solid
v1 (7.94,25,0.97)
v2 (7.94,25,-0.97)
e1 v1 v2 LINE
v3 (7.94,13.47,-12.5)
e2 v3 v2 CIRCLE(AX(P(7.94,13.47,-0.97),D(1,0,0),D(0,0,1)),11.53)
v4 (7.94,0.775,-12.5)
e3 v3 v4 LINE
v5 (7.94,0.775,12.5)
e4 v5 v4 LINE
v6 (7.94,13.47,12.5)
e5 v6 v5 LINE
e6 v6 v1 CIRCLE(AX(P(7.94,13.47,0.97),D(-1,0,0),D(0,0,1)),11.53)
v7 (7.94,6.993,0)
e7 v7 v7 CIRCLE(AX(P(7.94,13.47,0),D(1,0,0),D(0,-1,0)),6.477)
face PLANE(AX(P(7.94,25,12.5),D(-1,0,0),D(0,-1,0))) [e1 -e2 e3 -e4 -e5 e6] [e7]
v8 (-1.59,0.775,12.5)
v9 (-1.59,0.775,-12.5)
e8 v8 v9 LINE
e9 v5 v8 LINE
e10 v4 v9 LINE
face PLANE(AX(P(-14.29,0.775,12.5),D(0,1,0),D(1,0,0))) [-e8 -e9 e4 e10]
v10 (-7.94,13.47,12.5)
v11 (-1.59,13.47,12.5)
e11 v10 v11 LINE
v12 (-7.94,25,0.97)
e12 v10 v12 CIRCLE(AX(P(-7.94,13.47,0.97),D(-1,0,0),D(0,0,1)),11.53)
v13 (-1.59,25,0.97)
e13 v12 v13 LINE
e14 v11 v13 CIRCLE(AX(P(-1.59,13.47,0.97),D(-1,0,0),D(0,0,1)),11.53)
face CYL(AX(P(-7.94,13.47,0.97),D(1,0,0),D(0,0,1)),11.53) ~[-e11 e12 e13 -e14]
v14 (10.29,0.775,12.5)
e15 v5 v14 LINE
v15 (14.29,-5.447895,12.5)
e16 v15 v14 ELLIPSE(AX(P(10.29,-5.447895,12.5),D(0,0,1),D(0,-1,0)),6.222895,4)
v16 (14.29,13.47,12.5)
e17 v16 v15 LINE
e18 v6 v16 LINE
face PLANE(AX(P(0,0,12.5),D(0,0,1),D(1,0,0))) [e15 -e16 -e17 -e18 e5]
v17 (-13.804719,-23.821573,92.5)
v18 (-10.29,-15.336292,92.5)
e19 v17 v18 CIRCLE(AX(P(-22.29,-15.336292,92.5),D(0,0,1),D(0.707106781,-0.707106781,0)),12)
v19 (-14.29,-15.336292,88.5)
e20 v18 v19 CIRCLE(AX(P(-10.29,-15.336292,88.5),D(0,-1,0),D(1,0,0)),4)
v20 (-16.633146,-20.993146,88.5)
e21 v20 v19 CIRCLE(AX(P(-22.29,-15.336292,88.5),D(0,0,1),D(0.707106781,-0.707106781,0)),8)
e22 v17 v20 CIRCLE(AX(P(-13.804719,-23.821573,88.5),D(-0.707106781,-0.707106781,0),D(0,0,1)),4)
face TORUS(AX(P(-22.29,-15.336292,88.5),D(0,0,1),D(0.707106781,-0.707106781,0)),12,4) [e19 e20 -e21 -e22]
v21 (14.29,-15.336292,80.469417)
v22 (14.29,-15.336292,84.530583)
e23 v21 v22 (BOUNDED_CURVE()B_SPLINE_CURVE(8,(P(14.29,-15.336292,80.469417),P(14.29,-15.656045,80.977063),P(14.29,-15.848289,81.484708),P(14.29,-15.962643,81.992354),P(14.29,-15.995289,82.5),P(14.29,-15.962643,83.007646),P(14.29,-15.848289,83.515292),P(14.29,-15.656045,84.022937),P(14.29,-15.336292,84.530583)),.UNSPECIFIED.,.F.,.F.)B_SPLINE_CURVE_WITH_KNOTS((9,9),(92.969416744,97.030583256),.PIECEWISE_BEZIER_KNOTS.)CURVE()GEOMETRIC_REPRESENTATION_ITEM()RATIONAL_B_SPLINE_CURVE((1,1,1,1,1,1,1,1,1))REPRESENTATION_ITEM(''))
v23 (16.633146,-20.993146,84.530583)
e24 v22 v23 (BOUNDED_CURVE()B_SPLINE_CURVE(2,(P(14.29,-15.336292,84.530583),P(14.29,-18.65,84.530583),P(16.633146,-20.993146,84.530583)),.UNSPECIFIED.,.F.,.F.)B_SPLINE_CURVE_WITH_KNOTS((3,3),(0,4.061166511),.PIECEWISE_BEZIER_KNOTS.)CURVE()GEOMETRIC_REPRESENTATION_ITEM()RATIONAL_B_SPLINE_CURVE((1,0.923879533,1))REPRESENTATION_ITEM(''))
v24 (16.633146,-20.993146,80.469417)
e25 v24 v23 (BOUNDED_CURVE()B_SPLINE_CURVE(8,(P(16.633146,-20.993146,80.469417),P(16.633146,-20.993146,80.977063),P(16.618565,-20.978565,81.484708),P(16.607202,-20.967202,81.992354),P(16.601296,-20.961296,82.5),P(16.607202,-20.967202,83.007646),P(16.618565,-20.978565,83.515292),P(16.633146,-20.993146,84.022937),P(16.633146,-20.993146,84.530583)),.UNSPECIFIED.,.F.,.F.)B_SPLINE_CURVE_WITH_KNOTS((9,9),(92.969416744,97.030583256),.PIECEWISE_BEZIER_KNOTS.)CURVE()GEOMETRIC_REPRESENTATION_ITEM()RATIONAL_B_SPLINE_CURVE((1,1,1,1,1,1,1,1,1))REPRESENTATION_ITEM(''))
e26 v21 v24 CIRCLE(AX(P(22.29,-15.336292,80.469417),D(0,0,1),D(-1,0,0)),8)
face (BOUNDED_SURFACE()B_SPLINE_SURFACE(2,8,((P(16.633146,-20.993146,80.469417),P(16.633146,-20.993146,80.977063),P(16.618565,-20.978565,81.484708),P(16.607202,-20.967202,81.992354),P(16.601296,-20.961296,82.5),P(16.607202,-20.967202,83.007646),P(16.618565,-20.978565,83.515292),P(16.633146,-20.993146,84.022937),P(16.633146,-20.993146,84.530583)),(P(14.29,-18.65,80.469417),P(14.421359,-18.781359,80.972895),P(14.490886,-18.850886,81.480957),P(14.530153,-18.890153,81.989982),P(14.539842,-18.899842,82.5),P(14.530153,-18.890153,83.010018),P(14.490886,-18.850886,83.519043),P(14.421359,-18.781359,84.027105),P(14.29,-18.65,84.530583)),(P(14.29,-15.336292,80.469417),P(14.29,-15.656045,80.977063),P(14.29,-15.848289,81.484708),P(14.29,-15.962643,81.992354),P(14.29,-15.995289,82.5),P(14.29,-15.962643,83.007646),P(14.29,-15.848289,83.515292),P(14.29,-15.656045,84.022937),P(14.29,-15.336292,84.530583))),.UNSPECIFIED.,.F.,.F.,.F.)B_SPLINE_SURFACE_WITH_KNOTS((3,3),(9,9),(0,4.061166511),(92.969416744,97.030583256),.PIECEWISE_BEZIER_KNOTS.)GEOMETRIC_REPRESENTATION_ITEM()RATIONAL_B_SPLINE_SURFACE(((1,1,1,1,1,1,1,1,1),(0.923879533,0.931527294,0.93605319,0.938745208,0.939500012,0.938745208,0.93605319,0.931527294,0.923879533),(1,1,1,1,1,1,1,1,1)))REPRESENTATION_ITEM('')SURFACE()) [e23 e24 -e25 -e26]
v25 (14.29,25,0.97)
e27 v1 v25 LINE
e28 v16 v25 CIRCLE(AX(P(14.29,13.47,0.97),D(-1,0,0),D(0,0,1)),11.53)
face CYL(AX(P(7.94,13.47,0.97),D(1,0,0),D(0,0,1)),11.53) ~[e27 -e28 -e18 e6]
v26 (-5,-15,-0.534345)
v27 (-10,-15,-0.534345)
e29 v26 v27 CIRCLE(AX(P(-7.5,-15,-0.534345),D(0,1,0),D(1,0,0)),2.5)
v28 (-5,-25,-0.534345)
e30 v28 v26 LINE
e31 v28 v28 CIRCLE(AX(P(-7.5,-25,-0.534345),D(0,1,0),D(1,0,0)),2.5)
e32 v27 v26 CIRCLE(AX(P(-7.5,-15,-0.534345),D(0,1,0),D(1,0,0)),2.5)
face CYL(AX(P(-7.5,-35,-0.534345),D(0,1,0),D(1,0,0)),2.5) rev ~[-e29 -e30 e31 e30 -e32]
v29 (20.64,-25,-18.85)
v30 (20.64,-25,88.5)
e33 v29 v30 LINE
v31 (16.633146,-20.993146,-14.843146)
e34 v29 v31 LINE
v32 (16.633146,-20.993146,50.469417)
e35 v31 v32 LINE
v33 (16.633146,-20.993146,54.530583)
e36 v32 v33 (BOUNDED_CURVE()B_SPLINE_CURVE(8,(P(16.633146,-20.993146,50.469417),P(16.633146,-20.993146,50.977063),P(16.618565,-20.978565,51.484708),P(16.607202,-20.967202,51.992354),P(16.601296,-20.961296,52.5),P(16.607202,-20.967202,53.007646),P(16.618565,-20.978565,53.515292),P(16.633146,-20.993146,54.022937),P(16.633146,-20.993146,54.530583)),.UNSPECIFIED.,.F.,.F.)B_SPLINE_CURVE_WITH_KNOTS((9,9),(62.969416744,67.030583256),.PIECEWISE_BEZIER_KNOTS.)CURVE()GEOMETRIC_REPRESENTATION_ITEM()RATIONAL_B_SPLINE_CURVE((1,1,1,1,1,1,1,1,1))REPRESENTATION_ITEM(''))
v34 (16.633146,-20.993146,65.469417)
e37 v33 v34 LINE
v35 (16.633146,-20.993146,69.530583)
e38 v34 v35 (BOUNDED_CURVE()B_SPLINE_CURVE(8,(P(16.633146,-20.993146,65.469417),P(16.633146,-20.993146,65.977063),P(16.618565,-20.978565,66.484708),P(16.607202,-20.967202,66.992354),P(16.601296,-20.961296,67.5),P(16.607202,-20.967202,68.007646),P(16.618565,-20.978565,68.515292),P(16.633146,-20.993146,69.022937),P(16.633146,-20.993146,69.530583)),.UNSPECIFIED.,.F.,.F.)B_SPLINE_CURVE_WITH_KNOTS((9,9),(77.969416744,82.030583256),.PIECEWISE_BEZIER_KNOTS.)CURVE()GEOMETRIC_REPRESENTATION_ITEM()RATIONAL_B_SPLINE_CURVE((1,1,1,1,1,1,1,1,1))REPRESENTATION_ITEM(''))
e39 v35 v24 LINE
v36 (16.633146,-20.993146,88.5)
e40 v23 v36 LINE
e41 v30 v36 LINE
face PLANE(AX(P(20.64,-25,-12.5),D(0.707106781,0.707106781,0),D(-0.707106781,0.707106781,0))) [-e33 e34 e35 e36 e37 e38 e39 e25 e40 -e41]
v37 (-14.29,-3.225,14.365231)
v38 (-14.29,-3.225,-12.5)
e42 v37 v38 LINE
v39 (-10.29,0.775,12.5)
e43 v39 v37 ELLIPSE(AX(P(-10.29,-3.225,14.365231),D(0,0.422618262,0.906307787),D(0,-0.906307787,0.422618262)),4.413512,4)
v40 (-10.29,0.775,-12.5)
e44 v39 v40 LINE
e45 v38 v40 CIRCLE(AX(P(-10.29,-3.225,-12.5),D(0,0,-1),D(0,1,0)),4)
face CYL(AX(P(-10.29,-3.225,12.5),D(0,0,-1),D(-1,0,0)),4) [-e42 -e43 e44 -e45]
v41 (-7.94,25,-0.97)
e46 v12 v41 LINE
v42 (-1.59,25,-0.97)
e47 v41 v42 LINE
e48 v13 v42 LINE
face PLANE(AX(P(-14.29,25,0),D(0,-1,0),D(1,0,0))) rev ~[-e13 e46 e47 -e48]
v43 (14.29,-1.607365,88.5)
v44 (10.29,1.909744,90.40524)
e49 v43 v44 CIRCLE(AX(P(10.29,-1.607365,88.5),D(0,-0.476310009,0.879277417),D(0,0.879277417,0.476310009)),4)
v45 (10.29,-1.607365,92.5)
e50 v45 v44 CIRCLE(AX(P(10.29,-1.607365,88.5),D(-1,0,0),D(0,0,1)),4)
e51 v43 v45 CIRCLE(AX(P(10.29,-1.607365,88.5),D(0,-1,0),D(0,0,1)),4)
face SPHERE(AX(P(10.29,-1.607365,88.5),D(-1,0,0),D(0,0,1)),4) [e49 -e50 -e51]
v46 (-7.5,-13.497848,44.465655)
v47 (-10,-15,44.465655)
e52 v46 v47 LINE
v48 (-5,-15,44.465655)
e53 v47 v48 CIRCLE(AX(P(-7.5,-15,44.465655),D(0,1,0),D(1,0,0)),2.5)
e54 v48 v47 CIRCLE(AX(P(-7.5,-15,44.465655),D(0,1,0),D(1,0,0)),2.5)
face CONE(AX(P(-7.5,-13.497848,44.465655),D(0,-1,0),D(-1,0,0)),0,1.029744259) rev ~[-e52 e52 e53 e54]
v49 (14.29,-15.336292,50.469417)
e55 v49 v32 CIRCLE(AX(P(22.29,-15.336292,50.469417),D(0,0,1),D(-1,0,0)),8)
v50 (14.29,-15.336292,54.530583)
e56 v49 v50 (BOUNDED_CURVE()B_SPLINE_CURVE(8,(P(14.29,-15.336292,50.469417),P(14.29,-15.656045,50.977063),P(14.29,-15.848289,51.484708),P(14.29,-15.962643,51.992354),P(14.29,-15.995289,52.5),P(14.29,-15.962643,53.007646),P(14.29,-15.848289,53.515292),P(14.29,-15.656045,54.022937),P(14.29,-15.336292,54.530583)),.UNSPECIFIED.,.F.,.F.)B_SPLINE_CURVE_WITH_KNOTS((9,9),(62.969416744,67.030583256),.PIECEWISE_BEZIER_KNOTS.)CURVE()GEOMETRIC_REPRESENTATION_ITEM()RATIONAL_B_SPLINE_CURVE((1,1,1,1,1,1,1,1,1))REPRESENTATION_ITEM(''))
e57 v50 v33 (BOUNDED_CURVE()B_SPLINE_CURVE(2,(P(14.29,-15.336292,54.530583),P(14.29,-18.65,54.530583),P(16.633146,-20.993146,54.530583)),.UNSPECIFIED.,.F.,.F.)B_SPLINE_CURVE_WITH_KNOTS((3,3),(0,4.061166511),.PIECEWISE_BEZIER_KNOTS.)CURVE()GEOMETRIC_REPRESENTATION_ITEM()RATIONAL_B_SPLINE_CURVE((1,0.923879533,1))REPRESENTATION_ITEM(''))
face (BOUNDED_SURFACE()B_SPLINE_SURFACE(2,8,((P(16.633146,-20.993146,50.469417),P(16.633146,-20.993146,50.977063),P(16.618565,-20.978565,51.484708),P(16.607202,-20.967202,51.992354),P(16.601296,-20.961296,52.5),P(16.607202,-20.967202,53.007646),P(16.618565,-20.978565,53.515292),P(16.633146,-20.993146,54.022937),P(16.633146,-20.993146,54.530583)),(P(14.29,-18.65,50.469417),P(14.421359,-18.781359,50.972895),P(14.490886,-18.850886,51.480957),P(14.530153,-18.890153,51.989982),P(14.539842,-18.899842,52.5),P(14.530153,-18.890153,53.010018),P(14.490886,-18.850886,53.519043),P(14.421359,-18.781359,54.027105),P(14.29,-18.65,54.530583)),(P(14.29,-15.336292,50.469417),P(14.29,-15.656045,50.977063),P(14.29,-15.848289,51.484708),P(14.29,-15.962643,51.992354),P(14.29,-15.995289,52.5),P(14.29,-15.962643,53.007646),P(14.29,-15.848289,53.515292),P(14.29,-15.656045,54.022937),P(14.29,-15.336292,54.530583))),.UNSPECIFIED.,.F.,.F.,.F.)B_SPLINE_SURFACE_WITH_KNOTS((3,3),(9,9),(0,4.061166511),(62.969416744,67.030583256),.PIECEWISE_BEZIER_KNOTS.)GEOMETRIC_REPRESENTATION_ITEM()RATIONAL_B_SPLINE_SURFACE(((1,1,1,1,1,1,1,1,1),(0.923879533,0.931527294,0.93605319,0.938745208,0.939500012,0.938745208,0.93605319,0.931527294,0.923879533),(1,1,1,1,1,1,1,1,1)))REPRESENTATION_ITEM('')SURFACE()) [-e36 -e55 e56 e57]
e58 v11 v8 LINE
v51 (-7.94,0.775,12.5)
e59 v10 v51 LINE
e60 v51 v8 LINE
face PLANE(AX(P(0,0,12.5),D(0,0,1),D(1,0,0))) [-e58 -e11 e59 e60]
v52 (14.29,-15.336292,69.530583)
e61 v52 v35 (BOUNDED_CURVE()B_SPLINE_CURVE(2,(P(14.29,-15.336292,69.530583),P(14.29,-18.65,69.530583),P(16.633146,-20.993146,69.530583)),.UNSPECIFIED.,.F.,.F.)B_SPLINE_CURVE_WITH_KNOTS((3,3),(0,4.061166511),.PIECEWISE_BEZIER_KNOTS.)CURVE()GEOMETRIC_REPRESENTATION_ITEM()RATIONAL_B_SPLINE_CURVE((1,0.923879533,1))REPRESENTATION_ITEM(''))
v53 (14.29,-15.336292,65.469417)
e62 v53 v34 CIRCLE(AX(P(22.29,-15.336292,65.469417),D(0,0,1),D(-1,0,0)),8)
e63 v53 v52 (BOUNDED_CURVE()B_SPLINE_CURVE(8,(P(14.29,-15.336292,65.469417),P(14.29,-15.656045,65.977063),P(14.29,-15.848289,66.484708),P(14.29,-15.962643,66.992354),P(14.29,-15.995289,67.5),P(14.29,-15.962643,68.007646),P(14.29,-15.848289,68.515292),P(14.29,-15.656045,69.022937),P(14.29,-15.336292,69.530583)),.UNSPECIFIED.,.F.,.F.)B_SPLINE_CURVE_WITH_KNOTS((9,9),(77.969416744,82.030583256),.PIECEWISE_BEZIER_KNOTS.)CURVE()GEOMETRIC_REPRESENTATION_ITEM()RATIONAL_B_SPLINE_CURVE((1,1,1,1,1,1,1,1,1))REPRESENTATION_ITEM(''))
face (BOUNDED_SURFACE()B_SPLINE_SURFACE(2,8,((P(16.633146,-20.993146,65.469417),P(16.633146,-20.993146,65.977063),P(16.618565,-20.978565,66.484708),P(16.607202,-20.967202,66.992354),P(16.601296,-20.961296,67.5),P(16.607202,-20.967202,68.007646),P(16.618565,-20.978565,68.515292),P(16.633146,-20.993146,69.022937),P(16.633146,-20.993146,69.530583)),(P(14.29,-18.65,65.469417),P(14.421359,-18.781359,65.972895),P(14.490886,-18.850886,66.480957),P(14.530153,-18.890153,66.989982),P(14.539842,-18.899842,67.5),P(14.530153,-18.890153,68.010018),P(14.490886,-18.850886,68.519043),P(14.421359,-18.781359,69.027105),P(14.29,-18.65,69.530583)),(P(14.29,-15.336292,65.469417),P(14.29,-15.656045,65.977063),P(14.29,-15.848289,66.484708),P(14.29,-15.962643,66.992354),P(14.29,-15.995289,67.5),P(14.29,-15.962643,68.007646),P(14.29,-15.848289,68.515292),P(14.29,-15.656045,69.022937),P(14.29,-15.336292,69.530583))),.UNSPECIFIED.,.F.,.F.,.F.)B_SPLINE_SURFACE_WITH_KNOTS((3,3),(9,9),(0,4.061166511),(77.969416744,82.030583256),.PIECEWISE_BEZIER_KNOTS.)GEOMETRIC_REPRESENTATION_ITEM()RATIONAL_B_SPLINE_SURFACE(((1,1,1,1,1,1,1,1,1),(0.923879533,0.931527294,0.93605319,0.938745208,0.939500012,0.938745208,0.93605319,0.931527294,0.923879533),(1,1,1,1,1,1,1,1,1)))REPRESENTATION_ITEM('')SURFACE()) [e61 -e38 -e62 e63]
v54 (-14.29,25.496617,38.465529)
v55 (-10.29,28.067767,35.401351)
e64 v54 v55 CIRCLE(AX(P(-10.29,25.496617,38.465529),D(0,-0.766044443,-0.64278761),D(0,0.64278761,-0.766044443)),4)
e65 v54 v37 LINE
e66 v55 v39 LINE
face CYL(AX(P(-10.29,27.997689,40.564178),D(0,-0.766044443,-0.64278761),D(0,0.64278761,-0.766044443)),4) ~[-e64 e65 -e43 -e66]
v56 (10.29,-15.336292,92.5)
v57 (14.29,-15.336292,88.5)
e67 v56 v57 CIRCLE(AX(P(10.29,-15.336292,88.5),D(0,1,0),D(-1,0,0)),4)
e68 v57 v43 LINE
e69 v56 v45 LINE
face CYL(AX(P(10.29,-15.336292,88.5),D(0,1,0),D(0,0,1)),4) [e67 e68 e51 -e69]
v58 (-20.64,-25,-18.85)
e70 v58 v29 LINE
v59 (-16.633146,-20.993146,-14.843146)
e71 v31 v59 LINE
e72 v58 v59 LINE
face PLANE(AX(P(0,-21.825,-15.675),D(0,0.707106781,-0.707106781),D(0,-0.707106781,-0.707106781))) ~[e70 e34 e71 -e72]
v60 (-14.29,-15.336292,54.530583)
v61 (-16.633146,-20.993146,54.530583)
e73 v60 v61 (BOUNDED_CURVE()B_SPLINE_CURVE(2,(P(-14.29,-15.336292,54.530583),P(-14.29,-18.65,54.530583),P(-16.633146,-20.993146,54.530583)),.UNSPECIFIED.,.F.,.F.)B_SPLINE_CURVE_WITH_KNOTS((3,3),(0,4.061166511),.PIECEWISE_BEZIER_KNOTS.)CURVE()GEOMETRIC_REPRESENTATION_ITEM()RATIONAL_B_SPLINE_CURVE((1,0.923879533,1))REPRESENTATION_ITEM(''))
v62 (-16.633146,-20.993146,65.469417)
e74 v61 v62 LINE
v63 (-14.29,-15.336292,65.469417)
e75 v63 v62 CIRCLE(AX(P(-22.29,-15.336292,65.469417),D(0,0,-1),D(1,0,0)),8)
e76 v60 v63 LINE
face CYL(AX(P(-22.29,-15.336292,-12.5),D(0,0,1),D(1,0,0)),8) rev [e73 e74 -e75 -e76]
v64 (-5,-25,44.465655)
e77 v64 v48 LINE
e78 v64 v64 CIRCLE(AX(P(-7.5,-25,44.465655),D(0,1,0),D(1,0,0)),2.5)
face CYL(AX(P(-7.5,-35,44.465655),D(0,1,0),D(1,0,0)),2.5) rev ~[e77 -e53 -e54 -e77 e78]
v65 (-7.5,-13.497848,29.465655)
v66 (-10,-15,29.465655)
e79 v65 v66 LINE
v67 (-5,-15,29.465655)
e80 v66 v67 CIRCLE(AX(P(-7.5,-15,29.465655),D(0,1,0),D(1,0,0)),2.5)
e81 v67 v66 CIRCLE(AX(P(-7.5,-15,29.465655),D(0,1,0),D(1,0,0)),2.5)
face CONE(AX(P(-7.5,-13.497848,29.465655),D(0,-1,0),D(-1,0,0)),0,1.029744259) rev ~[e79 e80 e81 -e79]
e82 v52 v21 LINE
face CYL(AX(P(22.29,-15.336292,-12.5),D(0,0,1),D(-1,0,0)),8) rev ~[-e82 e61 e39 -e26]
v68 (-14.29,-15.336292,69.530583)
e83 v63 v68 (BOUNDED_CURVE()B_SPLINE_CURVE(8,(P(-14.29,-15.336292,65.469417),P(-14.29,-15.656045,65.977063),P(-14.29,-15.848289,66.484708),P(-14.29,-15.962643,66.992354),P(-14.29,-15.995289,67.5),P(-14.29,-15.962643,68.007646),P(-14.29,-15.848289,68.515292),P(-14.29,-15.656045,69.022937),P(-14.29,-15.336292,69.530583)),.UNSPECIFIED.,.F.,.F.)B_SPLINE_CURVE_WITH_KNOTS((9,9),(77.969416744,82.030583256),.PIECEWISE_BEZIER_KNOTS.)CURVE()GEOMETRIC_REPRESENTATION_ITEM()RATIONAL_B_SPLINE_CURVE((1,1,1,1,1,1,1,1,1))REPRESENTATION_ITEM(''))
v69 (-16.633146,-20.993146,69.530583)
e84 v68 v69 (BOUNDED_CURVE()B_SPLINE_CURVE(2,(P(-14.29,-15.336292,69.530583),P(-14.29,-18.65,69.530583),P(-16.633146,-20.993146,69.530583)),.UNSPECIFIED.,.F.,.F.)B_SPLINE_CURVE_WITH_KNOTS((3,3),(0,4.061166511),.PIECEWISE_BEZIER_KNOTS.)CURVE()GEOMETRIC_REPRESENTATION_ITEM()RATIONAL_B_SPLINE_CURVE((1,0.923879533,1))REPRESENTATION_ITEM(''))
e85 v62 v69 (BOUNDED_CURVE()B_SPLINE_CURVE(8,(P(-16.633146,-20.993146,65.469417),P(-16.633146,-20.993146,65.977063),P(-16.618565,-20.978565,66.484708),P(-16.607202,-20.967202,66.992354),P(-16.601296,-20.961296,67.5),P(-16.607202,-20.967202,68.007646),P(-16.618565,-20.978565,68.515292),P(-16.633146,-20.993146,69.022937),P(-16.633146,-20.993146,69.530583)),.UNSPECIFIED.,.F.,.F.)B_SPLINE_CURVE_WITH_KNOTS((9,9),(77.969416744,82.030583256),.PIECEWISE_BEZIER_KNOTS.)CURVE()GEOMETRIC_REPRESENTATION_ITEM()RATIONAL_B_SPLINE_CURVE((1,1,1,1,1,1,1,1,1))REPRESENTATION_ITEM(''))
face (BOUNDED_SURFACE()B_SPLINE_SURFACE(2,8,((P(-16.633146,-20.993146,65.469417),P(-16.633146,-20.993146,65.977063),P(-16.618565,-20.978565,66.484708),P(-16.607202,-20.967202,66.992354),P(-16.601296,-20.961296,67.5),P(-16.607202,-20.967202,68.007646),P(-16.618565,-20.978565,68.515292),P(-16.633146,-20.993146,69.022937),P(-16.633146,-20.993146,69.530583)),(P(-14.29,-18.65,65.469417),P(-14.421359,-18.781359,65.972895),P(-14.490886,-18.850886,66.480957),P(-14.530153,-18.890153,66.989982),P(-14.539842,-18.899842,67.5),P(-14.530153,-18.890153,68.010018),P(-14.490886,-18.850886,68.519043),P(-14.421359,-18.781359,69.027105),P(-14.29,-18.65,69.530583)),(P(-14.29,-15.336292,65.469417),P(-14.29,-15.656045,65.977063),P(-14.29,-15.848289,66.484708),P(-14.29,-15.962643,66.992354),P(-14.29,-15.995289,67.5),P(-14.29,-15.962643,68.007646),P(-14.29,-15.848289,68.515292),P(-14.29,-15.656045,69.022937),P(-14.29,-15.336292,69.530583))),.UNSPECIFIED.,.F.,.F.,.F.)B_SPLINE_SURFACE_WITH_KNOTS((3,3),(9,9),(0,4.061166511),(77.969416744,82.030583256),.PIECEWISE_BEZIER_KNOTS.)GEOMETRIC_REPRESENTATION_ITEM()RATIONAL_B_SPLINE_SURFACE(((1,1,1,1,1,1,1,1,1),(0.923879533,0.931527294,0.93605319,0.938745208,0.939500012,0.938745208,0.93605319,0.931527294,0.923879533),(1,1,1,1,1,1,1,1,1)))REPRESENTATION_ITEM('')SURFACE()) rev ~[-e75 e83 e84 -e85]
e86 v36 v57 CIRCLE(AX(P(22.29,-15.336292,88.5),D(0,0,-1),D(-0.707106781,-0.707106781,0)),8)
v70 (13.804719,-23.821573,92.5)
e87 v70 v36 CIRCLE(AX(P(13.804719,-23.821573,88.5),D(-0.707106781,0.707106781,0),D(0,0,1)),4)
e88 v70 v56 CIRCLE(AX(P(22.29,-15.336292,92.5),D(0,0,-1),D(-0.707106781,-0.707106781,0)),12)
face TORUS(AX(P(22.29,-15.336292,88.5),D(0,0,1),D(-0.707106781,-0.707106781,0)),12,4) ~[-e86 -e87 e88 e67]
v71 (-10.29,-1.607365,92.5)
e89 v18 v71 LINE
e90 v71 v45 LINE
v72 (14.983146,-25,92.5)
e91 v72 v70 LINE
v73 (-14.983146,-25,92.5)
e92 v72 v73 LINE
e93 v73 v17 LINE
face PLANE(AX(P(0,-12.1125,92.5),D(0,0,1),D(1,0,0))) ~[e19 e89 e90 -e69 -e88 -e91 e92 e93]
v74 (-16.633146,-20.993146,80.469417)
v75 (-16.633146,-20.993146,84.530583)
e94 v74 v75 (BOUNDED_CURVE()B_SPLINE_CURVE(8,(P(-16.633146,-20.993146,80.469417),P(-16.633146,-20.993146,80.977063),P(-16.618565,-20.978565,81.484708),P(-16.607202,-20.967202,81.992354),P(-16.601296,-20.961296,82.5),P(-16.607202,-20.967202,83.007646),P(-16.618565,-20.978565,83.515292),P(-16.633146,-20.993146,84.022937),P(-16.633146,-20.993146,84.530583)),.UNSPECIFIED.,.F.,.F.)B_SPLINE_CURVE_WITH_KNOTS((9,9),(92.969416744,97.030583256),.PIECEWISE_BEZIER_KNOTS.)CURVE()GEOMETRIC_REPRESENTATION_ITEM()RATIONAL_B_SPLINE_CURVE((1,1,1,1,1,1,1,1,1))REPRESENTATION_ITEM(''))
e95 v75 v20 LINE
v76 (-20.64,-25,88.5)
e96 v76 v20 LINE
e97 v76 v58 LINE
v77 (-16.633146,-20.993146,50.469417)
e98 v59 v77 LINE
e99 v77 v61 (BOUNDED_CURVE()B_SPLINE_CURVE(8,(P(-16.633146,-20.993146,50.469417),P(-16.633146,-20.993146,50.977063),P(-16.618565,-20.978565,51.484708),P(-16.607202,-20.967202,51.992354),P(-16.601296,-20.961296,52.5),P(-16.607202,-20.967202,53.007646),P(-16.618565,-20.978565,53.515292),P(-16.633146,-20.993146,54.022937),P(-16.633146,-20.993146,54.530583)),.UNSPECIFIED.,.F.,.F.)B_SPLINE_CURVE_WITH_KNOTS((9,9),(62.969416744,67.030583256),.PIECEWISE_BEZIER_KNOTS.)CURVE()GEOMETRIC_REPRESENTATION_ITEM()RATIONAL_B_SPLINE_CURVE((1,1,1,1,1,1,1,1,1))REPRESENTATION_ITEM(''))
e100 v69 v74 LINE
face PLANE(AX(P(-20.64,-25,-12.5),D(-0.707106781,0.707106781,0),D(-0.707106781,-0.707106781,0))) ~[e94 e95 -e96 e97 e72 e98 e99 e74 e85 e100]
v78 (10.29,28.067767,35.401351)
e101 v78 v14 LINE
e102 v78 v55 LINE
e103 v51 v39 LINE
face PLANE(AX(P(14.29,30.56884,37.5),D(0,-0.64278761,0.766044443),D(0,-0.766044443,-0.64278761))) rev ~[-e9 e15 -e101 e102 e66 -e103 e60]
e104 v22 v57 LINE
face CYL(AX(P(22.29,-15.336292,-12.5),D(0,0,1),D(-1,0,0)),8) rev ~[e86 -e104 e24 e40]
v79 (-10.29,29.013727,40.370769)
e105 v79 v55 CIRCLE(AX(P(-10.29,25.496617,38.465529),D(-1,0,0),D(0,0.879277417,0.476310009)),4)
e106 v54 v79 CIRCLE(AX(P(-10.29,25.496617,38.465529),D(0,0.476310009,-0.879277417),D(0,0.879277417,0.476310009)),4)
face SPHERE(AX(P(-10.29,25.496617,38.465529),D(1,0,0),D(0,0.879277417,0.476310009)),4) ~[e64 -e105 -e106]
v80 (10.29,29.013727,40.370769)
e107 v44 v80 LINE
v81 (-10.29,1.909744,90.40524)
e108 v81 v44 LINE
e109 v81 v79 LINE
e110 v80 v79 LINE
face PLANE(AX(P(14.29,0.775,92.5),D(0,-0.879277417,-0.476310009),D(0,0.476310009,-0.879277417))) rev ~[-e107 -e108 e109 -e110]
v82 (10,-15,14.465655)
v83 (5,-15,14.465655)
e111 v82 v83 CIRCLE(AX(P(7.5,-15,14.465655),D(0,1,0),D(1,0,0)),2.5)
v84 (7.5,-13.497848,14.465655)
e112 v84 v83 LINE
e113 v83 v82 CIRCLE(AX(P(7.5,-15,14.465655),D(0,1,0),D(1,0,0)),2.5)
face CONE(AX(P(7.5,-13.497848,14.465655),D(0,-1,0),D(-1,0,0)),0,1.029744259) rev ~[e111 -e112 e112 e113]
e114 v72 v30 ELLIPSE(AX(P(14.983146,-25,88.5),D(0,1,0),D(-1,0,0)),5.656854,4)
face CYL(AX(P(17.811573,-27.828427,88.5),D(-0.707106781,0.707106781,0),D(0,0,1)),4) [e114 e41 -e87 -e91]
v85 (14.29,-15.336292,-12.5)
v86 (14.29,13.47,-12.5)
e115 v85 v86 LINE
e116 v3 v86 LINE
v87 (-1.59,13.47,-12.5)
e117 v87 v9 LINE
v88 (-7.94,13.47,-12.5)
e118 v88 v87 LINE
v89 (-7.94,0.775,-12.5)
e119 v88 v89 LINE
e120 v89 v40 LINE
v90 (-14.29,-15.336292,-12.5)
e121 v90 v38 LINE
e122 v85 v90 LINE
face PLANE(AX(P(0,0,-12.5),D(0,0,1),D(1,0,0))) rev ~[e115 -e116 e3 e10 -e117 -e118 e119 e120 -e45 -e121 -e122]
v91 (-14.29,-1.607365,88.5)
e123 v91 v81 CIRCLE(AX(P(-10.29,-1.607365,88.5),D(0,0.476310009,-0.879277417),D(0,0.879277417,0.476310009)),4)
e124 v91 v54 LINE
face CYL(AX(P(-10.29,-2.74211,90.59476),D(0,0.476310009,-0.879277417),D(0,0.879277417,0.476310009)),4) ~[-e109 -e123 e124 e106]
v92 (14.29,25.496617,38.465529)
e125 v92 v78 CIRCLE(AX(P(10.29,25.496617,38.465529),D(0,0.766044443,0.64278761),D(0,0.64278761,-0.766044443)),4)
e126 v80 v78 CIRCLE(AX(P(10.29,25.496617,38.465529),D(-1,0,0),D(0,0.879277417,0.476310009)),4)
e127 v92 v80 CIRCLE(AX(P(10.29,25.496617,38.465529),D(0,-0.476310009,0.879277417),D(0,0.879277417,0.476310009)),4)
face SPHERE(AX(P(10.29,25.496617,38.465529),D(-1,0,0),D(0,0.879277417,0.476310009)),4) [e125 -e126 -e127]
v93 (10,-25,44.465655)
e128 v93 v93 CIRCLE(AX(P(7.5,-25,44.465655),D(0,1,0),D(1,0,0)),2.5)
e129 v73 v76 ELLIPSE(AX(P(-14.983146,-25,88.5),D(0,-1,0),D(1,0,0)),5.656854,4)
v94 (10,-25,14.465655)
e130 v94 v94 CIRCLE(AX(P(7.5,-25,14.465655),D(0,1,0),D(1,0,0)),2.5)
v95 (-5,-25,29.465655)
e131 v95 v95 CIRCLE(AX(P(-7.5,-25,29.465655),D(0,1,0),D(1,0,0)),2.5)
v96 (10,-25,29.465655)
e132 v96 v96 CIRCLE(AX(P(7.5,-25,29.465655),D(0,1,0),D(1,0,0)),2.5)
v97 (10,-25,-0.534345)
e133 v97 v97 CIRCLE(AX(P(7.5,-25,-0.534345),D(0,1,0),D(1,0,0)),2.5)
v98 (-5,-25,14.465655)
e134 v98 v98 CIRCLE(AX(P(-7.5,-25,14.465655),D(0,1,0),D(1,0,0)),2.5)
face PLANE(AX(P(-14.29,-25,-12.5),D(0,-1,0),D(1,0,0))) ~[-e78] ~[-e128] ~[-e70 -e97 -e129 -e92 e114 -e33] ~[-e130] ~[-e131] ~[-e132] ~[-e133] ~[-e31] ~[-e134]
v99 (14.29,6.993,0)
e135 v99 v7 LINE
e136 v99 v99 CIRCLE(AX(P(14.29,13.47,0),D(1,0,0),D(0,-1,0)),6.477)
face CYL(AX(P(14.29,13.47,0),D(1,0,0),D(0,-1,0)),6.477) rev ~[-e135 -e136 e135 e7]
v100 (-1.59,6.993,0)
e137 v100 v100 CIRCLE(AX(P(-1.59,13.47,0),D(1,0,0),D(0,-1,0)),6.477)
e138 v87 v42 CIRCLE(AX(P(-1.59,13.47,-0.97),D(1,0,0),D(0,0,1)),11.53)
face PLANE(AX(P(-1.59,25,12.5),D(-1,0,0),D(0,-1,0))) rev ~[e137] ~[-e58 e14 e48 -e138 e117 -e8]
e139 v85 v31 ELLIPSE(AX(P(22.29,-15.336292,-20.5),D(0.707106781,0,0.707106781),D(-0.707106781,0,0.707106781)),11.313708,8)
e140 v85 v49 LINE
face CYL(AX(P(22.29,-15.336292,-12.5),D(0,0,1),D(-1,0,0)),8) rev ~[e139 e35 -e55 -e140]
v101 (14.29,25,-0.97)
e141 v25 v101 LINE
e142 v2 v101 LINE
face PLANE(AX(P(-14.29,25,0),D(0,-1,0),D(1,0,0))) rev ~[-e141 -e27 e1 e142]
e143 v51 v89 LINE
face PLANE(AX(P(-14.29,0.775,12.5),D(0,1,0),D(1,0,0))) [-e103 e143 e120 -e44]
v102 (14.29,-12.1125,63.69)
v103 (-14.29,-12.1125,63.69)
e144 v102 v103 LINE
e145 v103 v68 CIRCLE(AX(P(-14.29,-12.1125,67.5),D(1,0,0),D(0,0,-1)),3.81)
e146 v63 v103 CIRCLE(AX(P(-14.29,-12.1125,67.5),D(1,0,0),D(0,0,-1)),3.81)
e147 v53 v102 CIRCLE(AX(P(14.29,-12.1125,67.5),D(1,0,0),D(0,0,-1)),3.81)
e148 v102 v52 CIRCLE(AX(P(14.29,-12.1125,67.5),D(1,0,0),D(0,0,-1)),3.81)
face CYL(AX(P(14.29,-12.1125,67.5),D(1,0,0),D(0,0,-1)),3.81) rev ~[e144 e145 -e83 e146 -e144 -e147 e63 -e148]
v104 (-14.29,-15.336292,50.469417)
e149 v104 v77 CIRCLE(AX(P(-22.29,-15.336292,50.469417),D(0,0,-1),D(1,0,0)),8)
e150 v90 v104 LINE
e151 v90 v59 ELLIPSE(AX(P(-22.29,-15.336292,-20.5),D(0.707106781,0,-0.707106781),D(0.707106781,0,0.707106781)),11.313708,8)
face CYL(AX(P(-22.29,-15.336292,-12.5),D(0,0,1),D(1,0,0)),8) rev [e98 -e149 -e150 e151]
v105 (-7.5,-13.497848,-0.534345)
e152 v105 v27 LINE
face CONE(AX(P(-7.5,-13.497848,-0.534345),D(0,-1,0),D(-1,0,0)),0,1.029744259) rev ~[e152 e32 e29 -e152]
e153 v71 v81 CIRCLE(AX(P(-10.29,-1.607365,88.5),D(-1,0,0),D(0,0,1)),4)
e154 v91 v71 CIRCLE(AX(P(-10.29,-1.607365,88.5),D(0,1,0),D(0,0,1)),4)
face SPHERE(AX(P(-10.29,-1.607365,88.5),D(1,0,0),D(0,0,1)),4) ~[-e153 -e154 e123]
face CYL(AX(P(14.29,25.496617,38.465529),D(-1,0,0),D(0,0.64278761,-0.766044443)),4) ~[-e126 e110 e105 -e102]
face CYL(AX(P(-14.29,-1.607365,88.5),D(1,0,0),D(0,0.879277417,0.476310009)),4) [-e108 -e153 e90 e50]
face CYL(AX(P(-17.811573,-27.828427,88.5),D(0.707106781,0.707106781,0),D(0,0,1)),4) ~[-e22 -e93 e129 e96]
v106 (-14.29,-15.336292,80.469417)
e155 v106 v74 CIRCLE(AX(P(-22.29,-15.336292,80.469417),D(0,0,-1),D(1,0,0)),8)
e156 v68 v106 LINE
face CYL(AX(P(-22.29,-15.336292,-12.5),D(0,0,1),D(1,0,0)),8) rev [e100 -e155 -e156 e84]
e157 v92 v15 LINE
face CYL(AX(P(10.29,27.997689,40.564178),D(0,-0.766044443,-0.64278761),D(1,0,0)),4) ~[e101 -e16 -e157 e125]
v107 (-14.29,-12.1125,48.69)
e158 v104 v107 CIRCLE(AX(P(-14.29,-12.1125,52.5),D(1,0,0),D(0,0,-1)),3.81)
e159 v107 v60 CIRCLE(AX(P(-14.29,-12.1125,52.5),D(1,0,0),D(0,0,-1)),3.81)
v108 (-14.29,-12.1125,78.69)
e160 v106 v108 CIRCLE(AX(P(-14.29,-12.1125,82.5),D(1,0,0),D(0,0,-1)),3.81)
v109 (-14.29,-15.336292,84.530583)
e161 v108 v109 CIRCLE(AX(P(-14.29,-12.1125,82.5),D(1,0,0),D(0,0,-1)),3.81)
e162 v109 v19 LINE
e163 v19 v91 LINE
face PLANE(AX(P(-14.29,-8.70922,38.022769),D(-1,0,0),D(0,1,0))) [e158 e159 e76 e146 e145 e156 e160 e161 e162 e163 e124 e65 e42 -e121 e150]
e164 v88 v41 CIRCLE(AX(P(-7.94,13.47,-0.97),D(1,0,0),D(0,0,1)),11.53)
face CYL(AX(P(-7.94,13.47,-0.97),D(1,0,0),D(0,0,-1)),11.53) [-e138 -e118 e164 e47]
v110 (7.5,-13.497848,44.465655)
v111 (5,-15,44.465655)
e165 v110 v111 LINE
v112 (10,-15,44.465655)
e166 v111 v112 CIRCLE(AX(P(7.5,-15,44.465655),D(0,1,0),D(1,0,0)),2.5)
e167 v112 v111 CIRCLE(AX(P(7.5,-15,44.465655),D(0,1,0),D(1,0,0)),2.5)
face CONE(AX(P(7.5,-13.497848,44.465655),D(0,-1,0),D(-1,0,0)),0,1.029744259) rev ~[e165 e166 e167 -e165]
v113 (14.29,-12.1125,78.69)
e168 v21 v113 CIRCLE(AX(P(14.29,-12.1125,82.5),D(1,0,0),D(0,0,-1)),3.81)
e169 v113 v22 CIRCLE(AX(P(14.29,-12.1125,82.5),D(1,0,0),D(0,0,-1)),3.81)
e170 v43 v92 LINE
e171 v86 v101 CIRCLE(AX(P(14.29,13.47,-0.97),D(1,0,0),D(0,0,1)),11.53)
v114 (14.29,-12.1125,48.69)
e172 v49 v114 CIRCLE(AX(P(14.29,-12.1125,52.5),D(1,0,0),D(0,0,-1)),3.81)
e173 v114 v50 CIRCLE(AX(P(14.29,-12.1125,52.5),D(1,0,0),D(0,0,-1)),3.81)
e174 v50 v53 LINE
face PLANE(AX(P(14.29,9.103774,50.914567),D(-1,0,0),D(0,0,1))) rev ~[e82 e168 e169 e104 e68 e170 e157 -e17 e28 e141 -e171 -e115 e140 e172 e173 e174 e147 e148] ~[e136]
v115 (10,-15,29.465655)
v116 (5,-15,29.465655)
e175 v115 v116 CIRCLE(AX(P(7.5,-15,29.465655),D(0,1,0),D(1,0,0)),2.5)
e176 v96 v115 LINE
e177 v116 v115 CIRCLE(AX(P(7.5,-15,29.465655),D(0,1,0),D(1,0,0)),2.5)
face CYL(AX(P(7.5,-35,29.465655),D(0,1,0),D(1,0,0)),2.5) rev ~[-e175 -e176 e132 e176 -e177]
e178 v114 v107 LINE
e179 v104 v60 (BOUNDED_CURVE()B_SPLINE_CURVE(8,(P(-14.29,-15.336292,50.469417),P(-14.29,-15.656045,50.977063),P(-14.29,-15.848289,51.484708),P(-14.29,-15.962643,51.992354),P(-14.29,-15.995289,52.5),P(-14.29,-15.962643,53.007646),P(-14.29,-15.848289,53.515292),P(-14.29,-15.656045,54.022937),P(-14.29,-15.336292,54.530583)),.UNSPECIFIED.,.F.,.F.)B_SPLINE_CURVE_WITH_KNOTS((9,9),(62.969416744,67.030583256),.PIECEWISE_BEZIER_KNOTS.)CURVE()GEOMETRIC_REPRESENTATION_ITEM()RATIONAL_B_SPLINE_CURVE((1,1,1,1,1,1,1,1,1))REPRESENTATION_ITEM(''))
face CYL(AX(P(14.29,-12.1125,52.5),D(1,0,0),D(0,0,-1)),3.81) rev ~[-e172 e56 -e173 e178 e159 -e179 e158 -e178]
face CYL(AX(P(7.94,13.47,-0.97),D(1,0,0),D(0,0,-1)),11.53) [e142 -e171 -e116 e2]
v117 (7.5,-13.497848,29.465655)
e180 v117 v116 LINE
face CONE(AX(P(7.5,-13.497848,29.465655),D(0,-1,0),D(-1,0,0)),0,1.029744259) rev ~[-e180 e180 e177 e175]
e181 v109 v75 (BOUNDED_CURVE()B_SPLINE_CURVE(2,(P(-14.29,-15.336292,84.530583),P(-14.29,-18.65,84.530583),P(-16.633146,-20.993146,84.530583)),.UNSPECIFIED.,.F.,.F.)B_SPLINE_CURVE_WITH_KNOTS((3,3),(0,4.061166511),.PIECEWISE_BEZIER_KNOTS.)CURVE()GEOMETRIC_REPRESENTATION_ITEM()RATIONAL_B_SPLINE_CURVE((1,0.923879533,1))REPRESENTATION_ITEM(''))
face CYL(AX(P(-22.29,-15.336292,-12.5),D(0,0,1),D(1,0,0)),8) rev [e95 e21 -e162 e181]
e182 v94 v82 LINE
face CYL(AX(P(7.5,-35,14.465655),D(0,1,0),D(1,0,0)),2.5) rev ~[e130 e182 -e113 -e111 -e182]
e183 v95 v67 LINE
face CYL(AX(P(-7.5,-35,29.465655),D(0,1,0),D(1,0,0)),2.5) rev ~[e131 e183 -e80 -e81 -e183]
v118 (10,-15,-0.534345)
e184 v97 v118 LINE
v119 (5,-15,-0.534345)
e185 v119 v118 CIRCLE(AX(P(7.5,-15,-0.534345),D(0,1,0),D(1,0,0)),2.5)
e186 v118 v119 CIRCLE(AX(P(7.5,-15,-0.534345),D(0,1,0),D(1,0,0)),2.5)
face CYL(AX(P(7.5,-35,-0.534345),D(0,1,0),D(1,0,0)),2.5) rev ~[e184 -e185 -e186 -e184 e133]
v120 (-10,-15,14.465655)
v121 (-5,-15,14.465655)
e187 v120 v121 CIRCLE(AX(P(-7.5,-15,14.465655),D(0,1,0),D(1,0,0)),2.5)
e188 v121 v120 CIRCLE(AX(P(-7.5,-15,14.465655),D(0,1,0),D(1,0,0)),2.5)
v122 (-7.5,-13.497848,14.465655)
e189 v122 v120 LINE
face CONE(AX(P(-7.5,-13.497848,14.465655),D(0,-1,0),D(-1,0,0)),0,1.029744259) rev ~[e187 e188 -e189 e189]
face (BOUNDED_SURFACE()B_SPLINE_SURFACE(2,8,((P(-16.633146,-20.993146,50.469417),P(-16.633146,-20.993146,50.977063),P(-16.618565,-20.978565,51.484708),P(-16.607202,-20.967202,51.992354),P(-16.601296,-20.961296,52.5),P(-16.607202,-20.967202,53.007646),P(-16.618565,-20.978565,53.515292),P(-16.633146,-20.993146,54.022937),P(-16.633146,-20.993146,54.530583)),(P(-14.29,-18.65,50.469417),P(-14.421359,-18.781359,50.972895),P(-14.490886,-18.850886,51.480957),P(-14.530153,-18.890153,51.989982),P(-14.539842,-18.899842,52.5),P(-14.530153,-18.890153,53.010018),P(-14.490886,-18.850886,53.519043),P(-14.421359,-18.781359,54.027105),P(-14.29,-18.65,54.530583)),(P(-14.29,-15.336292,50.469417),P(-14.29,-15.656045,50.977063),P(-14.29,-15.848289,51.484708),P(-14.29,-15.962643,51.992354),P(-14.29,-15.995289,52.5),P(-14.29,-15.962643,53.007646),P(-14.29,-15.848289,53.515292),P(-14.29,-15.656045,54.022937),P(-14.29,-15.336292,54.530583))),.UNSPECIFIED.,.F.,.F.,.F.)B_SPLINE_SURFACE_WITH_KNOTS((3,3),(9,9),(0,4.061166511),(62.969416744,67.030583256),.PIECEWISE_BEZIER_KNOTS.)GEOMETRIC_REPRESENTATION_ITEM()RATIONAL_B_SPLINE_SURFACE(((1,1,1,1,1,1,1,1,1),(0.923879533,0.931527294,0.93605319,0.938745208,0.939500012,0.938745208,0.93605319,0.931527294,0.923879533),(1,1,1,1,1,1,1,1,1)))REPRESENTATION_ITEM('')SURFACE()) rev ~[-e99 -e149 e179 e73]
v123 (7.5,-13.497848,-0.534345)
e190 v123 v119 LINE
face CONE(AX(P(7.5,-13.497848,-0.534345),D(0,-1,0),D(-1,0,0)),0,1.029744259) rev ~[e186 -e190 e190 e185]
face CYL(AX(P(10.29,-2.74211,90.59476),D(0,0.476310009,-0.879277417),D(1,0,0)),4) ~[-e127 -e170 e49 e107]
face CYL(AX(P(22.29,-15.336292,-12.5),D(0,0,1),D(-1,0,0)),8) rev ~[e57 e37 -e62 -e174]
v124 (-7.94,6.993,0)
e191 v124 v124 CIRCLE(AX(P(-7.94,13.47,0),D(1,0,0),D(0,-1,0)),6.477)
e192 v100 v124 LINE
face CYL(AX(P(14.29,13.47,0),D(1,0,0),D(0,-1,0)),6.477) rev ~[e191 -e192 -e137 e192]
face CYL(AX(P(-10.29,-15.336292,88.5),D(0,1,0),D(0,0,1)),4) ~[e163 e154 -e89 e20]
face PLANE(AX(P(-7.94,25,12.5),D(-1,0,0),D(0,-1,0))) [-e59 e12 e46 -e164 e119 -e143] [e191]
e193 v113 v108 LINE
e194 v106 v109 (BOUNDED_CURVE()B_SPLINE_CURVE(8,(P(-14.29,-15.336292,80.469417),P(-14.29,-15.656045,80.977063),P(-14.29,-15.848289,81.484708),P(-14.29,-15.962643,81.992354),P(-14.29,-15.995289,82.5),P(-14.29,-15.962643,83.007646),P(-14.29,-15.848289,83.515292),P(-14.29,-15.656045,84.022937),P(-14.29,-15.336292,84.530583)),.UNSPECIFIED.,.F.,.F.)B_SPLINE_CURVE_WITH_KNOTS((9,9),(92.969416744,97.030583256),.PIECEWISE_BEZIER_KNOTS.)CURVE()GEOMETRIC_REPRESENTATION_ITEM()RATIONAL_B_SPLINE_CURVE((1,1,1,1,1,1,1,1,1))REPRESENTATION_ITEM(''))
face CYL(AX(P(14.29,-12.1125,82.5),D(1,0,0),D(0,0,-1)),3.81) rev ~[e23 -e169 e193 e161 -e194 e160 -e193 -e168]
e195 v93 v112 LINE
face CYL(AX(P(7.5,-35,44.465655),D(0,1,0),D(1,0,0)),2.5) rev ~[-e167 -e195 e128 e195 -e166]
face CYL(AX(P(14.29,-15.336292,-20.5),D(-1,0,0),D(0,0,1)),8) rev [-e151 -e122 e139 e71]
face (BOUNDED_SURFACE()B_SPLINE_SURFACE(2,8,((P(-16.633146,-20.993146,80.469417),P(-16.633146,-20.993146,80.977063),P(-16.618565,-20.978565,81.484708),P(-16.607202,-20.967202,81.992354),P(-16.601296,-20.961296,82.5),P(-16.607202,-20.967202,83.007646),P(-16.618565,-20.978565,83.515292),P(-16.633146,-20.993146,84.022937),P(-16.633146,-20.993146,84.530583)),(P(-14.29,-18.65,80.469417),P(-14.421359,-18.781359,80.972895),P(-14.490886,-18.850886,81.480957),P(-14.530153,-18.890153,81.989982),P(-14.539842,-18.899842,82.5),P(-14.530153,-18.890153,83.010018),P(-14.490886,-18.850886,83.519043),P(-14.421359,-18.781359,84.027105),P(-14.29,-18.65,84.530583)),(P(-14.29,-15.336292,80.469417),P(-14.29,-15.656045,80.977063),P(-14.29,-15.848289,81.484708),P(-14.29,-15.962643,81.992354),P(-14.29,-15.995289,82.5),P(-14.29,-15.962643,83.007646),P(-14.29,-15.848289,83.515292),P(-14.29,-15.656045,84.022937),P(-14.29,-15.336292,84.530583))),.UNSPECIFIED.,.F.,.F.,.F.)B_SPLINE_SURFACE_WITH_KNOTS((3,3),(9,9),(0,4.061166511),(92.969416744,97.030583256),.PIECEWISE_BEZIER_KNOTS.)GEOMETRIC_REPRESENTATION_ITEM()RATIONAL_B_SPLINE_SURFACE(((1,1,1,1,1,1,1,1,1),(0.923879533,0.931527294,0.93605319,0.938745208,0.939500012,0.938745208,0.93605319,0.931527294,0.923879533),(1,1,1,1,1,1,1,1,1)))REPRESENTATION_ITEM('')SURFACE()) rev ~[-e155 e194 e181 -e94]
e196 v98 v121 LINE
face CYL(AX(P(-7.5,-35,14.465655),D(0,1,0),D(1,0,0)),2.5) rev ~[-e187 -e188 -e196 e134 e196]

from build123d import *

# Parameters (mm, degrees)
SKETCH1_W                       = 28.58
SKETCH1_H                       = 50
BOSS_EXTRUDE1_DEPTH             = 12.5
SKETCH2_W                       = 9.53
SKETCH2_H                       = 24.225
SKETCH2_W_2                     = 6.35
CUT_EXTRUDE1_DEPTH              = 39.134028111
FILLET1_R                       = 11.53
SKETCH3_R                       = 6.477
CUT_EXTRUDE2_DEPTH              = 40.975822693
BOSS_EXTRUDE2_DEPTH             = 28.58
SKETCH5_W                       = 28.58
SKETCH5_H                       = 25.775
BOSS_EXTRUDE3_DEPTH             = 80
SKETCH6_R                       = 3.81
CUT_EXTRUDE3_DEPTH              = 100.990331533
CUT_EXTRUDE3_DEPTH_BACK         = 100.990331533
BOSS_EXTRUDE4_REACH             = 110.877
BOSS_EXTRUDE4_DIRECTION_2_REACH = 110.877
TROUS_DE_CENTRAGE_5_0MM1_D      = 5
TROUS_DE_CENTRAGE_5_0MM1_DEPTH  = 10
TROUS_DE_CENTRAGE_5_0MM1_TIP    = 1.502151548
BOSS_EXTRU_1_REACH              = 103.987
FILLET2_R                       = 8
FILLET4_R                       = 4


with BuildPart() as part:
    # Sketch1 → Boss-Extrude1 (new, symmetric)
    with BuildSketch(Plane.XY):
        Rectangle(SKETCH1_W, SKETCH1_H)
    extrude(amount=BOSS_EXTRUDE1_DEPTH, both=True)

    # Sketch2 → Cut-Extrude1 (cut, through all)
    with BuildSketch(Plane(origin=(0, 0, 12.5), x_dir=(-1, 0, 0), z_dir=(0, 0, 1))):
        with Locations((-3.175, -12.8875)):
            Rectangle(SKETCH2_W, SKETCH2_H)
        with Locations((11.115, -12.8875)):
            Rectangle(SKETCH2_W_2, SKETCH2_H)
    extrude(amount=-CUT_EXTRUDE1_DEPTH, mode=Mode.SUBTRACT)

    # Fillet1
    fillet1_edges = [part.edges().sort_by_distance(p)[0] for p in [
        (-4.765, 25, -12.5),
        (-4.765, 25, 12.5),
        (11.115, 25, -12.5),
        (11.115, 25, 12.5),
    ]]
    fillet(fillet1_edges, radius=FILLET1_R)

    # Sketch3 → Cut-Extrude2 (cut, through all)
    with BuildSketch(Plane(origin=(14.29, 0, 0), x_dir=(0, 0, -1), z_dir=(1, 0, 0))):
        with Locations(Location((0, 13.47, 0), (0, 0, 270))):
            Circle(SKETCH3_R)
    extrude(amount=-CUT_EXTRUDE2_DEPTH, mode=Mode.SUBTRACT)

    # Sketch4 → Boss-Extrude2 (add)
    with BuildSketch(Plane(origin=(14.29, 0, 0), x_dir=(0, 0, -1), z_dir=(1, 0, 0))):
        Polygon((18.85, -25), (12.5, -18.65), (12.5, -25), align=None)
    extrude(amount=-BOSS_EXTRUDE2_DEPTH)

    # Sketch5 → Boss-Extrude3 (add)
    with BuildSketch(Plane.XY.offset(12.5)):
        with Locations((0, -12.1125)):
            Rectangle(SKETCH5_W, SKETCH5_H)
    extrude(amount=BOSS_EXTRUDE3_DEPTH)

    # Sketch6 → Cut-Extrude3 (cut, two sides)
    with BuildSketch(Plane(origin=(14.29, 0, 0), x_dir=(0, 0, -1), z_dir=(1, 0, 0))) as cut_extrude3_sk:
        with Locations((-82.5, -12.1125)):
            Circle(SKETCH6_R)
        with Locations((-67.5, -12.1125)):
            Circle(SKETCH6_R)
        with Locations((-52.5, -12.1125)):
            Circle(SKETCH6_R)
    extrude(amount=CUT_EXTRUDE3_DEPTH, mode=Mode.SUBTRACT)
    extrude(cut_extrude3_sk.sketch, amount=-CUT_EXTRUDE3_DEPTH_BACK, mode=Mode.SUBTRACT)

    # Boss-Extrude4: up to this face of the body (flat: up to its plane)
    boss_extrude4_end = Plane(part.part.faces().sort_by_distance((0, -12.1125, 92.5))[0])
    # Sketch7 → Boss-Extrude4 (add, up to the picked face)
    with BuildSketch(Plane(origin=(0, 0, -12.5), x_dir=(-1, 0, 0), z_dir=(0, 0, -1)), mode=Mode.PRIVATE) as boss_extrude4_sk1:
        Polygon((-14.29, -25), (-20.64, -25), (-14.29, -18.65), align=None)
    boss_extrude4_tool1 = split(extrude(boss_extrude4_sk1.sketch, amount=-BOSS_EXTRUDE4_REACH, mode=Mode.PRIVATE), bisect_by=boss_extrude4_end, keep=Keep.BOTH, mode=Mode.PRIVATE)
    boss_extrude4 = boss_extrude4_tool1.solids().sort_by(Axis((16.406667, -22.883333, -12.5), (0, 0, 1)))[0]
    add(boss_extrude4)

    # Boss-Extrude4 direction 2: up to this face of the body (flat: up to its plane)
    boss_extrude4_direction_2_end = Plane(part.part.faces().sort_by_distance((0, -21.825, -15.675))[0])
    # Sketch7 → Boss-Extrude4 direction 2 (add, up to the picked face)
    with BuildSketch(Plane(origin=(0, 0, -12.5), x_dir=(-1, 0, 0), z_dir=(0, 0, -1)), mode=Mode.PRIVATE) as boss_extrude4_direction_2_sk1:
        Polygon((-14.29, -25), (-20.64, -25), (-14.29, -18.65), align=None)
    boss_extrude4_direction_2_tool1 = split(extrude(boss_extrude4_direction_2_sk1.sketch, amount=BOSS_EXTRUDE4_DIRECTION_2_REACH, mode=Mode.PRIVATE), bisect_by=boss_extrude4_direction_2_end, keep=Keep.BOTH, mode=Mode.PRIVATE)
    boss_extrude4_direction_2 = boss_extrude4_direction_2_tool1.solids().sort_by(Axis((16.406667, -22.883333, -12.5), (0, 0, -1)))[0]
    add(boss_extrude4_direction_2)

    # Mirror2: Boss-Extrude4, Boss-Extrude4 direction 2 across plane
    add(boss_extrude4.mirror(Plane(origin=(0, 0, 0), x_dir=(0, 0, 1), z_dir=(1, 0, 0))))
    add(boss_extrude4_direction_2.mirror(Plane(origin=(0, 0, 0), x_dir=(0, 0, 1), z_dir=(1, 0, 0))))

    # Trous de centrage Ø5.0mm1
    with Locations(Plane(origin=(0, -25, 0), x_dir=(-1, 0, 0), z_dir=(0, -1, 0))):
        with Locations((-7.5, 0.534345417), (7.5, 0.534345417), (7.5, -14.465654583), (-7.5, -14.465654583), (-7.5, -29.465654583), (7.5, -29.465654583), (7.5, -44.465654583), (-7.5, -44.465654583)):
            Hole(TROUS_DE_CENTRAGE_5_0MM1_D / 2, depth=TROUS_DE_CENTRAGE_5_0MM1_DEPTH)
            with Locations((0, 0, -(TROUS_DE_CENTRAGE_5_0MM1_DEPTH + TROUS_DE_CENTRAGE_5_0MM1_TIP / 2))):  # 118° drill point
                Cone(0, TROUS_DE_CENTRAGE_5_0MM1_D / 2, TROUS_DE_CENTRAGE_5_0MM1_TIP, mode=Mode.SUBTRACT)

    # Boss.-Extru.1: up to this face of the body (flat: up to its plane)
    boss_extru_1_end = Plane(part.part.faces().sort_by_distance((-14.29, -8.709219679, 38.022768873))[0])
    # Esquisse1 → Boss.-Extru.1 (add, up to the picked face)
    with BuildSketch(Plane(origin=(14.29, 0, 0), x_dir=(0, 0, -1), z_dir=(1, 0, 0)), mode=Mode.PRIVATE) as boss_extru_1_sk1:
        Polygon((-37.5, 30.568839815), (-12.5, 0.775), (-92.5, 0.775), align=None)
    boss_extru_1_tool1 = split(extrude(boss_extru_1_sk1.sketch, amount=-BOSS_EXTRU_1_REACH, mode=Mode.PRIVATE), bisect_by=boss_extru_1_end, keep=Keep.BOTH, mode=Mode.PRIVATE)
    add(boss_extru_1_tool1.solids().sort_by(Axis((14.29, 10.70628, 47.5), (-1, 0, 0)))[0])

    # Fillet2
    fillet2_edges = [part.edges().sort_by_distance(p)[0] for p in [
        (14.29, -18.65, 40),
        (-14.29, -18.65, 40),
        (0, -18.65, -12.5),
    ]]
    fillet(fillet2_edges, radius=FILLET2_R)

    # Fillet4
    fillet4_edges = [part.edges().sort_by_distance(p)[0] for p in [
        (18.636572875, -22.996572875, 92.5),
        (-18.636572875, -22.996572875, 92.5),
        (0, 30.568839815, 37.5),
        (14.29, 15.671919907, 65),
        (14.29, 15.671919907, 25),
        (-14.29, 15.671919907, 65),
        (-14.29, 15.671919907, 25),
        (14.29, -7.280645751, 92.5),
        (-14.89896374, -18.39775896, 92.5),
        (14.89896374, -18.39775896, 92.5),
        (-14.29, 0.775, 0),
        (-14.29, -7.280645751, 92.5),
        (0, 0.775, 92.5),
    ]]
    fillet(fillet4_edges, radius=FILLET4_R)


solid = part.part
